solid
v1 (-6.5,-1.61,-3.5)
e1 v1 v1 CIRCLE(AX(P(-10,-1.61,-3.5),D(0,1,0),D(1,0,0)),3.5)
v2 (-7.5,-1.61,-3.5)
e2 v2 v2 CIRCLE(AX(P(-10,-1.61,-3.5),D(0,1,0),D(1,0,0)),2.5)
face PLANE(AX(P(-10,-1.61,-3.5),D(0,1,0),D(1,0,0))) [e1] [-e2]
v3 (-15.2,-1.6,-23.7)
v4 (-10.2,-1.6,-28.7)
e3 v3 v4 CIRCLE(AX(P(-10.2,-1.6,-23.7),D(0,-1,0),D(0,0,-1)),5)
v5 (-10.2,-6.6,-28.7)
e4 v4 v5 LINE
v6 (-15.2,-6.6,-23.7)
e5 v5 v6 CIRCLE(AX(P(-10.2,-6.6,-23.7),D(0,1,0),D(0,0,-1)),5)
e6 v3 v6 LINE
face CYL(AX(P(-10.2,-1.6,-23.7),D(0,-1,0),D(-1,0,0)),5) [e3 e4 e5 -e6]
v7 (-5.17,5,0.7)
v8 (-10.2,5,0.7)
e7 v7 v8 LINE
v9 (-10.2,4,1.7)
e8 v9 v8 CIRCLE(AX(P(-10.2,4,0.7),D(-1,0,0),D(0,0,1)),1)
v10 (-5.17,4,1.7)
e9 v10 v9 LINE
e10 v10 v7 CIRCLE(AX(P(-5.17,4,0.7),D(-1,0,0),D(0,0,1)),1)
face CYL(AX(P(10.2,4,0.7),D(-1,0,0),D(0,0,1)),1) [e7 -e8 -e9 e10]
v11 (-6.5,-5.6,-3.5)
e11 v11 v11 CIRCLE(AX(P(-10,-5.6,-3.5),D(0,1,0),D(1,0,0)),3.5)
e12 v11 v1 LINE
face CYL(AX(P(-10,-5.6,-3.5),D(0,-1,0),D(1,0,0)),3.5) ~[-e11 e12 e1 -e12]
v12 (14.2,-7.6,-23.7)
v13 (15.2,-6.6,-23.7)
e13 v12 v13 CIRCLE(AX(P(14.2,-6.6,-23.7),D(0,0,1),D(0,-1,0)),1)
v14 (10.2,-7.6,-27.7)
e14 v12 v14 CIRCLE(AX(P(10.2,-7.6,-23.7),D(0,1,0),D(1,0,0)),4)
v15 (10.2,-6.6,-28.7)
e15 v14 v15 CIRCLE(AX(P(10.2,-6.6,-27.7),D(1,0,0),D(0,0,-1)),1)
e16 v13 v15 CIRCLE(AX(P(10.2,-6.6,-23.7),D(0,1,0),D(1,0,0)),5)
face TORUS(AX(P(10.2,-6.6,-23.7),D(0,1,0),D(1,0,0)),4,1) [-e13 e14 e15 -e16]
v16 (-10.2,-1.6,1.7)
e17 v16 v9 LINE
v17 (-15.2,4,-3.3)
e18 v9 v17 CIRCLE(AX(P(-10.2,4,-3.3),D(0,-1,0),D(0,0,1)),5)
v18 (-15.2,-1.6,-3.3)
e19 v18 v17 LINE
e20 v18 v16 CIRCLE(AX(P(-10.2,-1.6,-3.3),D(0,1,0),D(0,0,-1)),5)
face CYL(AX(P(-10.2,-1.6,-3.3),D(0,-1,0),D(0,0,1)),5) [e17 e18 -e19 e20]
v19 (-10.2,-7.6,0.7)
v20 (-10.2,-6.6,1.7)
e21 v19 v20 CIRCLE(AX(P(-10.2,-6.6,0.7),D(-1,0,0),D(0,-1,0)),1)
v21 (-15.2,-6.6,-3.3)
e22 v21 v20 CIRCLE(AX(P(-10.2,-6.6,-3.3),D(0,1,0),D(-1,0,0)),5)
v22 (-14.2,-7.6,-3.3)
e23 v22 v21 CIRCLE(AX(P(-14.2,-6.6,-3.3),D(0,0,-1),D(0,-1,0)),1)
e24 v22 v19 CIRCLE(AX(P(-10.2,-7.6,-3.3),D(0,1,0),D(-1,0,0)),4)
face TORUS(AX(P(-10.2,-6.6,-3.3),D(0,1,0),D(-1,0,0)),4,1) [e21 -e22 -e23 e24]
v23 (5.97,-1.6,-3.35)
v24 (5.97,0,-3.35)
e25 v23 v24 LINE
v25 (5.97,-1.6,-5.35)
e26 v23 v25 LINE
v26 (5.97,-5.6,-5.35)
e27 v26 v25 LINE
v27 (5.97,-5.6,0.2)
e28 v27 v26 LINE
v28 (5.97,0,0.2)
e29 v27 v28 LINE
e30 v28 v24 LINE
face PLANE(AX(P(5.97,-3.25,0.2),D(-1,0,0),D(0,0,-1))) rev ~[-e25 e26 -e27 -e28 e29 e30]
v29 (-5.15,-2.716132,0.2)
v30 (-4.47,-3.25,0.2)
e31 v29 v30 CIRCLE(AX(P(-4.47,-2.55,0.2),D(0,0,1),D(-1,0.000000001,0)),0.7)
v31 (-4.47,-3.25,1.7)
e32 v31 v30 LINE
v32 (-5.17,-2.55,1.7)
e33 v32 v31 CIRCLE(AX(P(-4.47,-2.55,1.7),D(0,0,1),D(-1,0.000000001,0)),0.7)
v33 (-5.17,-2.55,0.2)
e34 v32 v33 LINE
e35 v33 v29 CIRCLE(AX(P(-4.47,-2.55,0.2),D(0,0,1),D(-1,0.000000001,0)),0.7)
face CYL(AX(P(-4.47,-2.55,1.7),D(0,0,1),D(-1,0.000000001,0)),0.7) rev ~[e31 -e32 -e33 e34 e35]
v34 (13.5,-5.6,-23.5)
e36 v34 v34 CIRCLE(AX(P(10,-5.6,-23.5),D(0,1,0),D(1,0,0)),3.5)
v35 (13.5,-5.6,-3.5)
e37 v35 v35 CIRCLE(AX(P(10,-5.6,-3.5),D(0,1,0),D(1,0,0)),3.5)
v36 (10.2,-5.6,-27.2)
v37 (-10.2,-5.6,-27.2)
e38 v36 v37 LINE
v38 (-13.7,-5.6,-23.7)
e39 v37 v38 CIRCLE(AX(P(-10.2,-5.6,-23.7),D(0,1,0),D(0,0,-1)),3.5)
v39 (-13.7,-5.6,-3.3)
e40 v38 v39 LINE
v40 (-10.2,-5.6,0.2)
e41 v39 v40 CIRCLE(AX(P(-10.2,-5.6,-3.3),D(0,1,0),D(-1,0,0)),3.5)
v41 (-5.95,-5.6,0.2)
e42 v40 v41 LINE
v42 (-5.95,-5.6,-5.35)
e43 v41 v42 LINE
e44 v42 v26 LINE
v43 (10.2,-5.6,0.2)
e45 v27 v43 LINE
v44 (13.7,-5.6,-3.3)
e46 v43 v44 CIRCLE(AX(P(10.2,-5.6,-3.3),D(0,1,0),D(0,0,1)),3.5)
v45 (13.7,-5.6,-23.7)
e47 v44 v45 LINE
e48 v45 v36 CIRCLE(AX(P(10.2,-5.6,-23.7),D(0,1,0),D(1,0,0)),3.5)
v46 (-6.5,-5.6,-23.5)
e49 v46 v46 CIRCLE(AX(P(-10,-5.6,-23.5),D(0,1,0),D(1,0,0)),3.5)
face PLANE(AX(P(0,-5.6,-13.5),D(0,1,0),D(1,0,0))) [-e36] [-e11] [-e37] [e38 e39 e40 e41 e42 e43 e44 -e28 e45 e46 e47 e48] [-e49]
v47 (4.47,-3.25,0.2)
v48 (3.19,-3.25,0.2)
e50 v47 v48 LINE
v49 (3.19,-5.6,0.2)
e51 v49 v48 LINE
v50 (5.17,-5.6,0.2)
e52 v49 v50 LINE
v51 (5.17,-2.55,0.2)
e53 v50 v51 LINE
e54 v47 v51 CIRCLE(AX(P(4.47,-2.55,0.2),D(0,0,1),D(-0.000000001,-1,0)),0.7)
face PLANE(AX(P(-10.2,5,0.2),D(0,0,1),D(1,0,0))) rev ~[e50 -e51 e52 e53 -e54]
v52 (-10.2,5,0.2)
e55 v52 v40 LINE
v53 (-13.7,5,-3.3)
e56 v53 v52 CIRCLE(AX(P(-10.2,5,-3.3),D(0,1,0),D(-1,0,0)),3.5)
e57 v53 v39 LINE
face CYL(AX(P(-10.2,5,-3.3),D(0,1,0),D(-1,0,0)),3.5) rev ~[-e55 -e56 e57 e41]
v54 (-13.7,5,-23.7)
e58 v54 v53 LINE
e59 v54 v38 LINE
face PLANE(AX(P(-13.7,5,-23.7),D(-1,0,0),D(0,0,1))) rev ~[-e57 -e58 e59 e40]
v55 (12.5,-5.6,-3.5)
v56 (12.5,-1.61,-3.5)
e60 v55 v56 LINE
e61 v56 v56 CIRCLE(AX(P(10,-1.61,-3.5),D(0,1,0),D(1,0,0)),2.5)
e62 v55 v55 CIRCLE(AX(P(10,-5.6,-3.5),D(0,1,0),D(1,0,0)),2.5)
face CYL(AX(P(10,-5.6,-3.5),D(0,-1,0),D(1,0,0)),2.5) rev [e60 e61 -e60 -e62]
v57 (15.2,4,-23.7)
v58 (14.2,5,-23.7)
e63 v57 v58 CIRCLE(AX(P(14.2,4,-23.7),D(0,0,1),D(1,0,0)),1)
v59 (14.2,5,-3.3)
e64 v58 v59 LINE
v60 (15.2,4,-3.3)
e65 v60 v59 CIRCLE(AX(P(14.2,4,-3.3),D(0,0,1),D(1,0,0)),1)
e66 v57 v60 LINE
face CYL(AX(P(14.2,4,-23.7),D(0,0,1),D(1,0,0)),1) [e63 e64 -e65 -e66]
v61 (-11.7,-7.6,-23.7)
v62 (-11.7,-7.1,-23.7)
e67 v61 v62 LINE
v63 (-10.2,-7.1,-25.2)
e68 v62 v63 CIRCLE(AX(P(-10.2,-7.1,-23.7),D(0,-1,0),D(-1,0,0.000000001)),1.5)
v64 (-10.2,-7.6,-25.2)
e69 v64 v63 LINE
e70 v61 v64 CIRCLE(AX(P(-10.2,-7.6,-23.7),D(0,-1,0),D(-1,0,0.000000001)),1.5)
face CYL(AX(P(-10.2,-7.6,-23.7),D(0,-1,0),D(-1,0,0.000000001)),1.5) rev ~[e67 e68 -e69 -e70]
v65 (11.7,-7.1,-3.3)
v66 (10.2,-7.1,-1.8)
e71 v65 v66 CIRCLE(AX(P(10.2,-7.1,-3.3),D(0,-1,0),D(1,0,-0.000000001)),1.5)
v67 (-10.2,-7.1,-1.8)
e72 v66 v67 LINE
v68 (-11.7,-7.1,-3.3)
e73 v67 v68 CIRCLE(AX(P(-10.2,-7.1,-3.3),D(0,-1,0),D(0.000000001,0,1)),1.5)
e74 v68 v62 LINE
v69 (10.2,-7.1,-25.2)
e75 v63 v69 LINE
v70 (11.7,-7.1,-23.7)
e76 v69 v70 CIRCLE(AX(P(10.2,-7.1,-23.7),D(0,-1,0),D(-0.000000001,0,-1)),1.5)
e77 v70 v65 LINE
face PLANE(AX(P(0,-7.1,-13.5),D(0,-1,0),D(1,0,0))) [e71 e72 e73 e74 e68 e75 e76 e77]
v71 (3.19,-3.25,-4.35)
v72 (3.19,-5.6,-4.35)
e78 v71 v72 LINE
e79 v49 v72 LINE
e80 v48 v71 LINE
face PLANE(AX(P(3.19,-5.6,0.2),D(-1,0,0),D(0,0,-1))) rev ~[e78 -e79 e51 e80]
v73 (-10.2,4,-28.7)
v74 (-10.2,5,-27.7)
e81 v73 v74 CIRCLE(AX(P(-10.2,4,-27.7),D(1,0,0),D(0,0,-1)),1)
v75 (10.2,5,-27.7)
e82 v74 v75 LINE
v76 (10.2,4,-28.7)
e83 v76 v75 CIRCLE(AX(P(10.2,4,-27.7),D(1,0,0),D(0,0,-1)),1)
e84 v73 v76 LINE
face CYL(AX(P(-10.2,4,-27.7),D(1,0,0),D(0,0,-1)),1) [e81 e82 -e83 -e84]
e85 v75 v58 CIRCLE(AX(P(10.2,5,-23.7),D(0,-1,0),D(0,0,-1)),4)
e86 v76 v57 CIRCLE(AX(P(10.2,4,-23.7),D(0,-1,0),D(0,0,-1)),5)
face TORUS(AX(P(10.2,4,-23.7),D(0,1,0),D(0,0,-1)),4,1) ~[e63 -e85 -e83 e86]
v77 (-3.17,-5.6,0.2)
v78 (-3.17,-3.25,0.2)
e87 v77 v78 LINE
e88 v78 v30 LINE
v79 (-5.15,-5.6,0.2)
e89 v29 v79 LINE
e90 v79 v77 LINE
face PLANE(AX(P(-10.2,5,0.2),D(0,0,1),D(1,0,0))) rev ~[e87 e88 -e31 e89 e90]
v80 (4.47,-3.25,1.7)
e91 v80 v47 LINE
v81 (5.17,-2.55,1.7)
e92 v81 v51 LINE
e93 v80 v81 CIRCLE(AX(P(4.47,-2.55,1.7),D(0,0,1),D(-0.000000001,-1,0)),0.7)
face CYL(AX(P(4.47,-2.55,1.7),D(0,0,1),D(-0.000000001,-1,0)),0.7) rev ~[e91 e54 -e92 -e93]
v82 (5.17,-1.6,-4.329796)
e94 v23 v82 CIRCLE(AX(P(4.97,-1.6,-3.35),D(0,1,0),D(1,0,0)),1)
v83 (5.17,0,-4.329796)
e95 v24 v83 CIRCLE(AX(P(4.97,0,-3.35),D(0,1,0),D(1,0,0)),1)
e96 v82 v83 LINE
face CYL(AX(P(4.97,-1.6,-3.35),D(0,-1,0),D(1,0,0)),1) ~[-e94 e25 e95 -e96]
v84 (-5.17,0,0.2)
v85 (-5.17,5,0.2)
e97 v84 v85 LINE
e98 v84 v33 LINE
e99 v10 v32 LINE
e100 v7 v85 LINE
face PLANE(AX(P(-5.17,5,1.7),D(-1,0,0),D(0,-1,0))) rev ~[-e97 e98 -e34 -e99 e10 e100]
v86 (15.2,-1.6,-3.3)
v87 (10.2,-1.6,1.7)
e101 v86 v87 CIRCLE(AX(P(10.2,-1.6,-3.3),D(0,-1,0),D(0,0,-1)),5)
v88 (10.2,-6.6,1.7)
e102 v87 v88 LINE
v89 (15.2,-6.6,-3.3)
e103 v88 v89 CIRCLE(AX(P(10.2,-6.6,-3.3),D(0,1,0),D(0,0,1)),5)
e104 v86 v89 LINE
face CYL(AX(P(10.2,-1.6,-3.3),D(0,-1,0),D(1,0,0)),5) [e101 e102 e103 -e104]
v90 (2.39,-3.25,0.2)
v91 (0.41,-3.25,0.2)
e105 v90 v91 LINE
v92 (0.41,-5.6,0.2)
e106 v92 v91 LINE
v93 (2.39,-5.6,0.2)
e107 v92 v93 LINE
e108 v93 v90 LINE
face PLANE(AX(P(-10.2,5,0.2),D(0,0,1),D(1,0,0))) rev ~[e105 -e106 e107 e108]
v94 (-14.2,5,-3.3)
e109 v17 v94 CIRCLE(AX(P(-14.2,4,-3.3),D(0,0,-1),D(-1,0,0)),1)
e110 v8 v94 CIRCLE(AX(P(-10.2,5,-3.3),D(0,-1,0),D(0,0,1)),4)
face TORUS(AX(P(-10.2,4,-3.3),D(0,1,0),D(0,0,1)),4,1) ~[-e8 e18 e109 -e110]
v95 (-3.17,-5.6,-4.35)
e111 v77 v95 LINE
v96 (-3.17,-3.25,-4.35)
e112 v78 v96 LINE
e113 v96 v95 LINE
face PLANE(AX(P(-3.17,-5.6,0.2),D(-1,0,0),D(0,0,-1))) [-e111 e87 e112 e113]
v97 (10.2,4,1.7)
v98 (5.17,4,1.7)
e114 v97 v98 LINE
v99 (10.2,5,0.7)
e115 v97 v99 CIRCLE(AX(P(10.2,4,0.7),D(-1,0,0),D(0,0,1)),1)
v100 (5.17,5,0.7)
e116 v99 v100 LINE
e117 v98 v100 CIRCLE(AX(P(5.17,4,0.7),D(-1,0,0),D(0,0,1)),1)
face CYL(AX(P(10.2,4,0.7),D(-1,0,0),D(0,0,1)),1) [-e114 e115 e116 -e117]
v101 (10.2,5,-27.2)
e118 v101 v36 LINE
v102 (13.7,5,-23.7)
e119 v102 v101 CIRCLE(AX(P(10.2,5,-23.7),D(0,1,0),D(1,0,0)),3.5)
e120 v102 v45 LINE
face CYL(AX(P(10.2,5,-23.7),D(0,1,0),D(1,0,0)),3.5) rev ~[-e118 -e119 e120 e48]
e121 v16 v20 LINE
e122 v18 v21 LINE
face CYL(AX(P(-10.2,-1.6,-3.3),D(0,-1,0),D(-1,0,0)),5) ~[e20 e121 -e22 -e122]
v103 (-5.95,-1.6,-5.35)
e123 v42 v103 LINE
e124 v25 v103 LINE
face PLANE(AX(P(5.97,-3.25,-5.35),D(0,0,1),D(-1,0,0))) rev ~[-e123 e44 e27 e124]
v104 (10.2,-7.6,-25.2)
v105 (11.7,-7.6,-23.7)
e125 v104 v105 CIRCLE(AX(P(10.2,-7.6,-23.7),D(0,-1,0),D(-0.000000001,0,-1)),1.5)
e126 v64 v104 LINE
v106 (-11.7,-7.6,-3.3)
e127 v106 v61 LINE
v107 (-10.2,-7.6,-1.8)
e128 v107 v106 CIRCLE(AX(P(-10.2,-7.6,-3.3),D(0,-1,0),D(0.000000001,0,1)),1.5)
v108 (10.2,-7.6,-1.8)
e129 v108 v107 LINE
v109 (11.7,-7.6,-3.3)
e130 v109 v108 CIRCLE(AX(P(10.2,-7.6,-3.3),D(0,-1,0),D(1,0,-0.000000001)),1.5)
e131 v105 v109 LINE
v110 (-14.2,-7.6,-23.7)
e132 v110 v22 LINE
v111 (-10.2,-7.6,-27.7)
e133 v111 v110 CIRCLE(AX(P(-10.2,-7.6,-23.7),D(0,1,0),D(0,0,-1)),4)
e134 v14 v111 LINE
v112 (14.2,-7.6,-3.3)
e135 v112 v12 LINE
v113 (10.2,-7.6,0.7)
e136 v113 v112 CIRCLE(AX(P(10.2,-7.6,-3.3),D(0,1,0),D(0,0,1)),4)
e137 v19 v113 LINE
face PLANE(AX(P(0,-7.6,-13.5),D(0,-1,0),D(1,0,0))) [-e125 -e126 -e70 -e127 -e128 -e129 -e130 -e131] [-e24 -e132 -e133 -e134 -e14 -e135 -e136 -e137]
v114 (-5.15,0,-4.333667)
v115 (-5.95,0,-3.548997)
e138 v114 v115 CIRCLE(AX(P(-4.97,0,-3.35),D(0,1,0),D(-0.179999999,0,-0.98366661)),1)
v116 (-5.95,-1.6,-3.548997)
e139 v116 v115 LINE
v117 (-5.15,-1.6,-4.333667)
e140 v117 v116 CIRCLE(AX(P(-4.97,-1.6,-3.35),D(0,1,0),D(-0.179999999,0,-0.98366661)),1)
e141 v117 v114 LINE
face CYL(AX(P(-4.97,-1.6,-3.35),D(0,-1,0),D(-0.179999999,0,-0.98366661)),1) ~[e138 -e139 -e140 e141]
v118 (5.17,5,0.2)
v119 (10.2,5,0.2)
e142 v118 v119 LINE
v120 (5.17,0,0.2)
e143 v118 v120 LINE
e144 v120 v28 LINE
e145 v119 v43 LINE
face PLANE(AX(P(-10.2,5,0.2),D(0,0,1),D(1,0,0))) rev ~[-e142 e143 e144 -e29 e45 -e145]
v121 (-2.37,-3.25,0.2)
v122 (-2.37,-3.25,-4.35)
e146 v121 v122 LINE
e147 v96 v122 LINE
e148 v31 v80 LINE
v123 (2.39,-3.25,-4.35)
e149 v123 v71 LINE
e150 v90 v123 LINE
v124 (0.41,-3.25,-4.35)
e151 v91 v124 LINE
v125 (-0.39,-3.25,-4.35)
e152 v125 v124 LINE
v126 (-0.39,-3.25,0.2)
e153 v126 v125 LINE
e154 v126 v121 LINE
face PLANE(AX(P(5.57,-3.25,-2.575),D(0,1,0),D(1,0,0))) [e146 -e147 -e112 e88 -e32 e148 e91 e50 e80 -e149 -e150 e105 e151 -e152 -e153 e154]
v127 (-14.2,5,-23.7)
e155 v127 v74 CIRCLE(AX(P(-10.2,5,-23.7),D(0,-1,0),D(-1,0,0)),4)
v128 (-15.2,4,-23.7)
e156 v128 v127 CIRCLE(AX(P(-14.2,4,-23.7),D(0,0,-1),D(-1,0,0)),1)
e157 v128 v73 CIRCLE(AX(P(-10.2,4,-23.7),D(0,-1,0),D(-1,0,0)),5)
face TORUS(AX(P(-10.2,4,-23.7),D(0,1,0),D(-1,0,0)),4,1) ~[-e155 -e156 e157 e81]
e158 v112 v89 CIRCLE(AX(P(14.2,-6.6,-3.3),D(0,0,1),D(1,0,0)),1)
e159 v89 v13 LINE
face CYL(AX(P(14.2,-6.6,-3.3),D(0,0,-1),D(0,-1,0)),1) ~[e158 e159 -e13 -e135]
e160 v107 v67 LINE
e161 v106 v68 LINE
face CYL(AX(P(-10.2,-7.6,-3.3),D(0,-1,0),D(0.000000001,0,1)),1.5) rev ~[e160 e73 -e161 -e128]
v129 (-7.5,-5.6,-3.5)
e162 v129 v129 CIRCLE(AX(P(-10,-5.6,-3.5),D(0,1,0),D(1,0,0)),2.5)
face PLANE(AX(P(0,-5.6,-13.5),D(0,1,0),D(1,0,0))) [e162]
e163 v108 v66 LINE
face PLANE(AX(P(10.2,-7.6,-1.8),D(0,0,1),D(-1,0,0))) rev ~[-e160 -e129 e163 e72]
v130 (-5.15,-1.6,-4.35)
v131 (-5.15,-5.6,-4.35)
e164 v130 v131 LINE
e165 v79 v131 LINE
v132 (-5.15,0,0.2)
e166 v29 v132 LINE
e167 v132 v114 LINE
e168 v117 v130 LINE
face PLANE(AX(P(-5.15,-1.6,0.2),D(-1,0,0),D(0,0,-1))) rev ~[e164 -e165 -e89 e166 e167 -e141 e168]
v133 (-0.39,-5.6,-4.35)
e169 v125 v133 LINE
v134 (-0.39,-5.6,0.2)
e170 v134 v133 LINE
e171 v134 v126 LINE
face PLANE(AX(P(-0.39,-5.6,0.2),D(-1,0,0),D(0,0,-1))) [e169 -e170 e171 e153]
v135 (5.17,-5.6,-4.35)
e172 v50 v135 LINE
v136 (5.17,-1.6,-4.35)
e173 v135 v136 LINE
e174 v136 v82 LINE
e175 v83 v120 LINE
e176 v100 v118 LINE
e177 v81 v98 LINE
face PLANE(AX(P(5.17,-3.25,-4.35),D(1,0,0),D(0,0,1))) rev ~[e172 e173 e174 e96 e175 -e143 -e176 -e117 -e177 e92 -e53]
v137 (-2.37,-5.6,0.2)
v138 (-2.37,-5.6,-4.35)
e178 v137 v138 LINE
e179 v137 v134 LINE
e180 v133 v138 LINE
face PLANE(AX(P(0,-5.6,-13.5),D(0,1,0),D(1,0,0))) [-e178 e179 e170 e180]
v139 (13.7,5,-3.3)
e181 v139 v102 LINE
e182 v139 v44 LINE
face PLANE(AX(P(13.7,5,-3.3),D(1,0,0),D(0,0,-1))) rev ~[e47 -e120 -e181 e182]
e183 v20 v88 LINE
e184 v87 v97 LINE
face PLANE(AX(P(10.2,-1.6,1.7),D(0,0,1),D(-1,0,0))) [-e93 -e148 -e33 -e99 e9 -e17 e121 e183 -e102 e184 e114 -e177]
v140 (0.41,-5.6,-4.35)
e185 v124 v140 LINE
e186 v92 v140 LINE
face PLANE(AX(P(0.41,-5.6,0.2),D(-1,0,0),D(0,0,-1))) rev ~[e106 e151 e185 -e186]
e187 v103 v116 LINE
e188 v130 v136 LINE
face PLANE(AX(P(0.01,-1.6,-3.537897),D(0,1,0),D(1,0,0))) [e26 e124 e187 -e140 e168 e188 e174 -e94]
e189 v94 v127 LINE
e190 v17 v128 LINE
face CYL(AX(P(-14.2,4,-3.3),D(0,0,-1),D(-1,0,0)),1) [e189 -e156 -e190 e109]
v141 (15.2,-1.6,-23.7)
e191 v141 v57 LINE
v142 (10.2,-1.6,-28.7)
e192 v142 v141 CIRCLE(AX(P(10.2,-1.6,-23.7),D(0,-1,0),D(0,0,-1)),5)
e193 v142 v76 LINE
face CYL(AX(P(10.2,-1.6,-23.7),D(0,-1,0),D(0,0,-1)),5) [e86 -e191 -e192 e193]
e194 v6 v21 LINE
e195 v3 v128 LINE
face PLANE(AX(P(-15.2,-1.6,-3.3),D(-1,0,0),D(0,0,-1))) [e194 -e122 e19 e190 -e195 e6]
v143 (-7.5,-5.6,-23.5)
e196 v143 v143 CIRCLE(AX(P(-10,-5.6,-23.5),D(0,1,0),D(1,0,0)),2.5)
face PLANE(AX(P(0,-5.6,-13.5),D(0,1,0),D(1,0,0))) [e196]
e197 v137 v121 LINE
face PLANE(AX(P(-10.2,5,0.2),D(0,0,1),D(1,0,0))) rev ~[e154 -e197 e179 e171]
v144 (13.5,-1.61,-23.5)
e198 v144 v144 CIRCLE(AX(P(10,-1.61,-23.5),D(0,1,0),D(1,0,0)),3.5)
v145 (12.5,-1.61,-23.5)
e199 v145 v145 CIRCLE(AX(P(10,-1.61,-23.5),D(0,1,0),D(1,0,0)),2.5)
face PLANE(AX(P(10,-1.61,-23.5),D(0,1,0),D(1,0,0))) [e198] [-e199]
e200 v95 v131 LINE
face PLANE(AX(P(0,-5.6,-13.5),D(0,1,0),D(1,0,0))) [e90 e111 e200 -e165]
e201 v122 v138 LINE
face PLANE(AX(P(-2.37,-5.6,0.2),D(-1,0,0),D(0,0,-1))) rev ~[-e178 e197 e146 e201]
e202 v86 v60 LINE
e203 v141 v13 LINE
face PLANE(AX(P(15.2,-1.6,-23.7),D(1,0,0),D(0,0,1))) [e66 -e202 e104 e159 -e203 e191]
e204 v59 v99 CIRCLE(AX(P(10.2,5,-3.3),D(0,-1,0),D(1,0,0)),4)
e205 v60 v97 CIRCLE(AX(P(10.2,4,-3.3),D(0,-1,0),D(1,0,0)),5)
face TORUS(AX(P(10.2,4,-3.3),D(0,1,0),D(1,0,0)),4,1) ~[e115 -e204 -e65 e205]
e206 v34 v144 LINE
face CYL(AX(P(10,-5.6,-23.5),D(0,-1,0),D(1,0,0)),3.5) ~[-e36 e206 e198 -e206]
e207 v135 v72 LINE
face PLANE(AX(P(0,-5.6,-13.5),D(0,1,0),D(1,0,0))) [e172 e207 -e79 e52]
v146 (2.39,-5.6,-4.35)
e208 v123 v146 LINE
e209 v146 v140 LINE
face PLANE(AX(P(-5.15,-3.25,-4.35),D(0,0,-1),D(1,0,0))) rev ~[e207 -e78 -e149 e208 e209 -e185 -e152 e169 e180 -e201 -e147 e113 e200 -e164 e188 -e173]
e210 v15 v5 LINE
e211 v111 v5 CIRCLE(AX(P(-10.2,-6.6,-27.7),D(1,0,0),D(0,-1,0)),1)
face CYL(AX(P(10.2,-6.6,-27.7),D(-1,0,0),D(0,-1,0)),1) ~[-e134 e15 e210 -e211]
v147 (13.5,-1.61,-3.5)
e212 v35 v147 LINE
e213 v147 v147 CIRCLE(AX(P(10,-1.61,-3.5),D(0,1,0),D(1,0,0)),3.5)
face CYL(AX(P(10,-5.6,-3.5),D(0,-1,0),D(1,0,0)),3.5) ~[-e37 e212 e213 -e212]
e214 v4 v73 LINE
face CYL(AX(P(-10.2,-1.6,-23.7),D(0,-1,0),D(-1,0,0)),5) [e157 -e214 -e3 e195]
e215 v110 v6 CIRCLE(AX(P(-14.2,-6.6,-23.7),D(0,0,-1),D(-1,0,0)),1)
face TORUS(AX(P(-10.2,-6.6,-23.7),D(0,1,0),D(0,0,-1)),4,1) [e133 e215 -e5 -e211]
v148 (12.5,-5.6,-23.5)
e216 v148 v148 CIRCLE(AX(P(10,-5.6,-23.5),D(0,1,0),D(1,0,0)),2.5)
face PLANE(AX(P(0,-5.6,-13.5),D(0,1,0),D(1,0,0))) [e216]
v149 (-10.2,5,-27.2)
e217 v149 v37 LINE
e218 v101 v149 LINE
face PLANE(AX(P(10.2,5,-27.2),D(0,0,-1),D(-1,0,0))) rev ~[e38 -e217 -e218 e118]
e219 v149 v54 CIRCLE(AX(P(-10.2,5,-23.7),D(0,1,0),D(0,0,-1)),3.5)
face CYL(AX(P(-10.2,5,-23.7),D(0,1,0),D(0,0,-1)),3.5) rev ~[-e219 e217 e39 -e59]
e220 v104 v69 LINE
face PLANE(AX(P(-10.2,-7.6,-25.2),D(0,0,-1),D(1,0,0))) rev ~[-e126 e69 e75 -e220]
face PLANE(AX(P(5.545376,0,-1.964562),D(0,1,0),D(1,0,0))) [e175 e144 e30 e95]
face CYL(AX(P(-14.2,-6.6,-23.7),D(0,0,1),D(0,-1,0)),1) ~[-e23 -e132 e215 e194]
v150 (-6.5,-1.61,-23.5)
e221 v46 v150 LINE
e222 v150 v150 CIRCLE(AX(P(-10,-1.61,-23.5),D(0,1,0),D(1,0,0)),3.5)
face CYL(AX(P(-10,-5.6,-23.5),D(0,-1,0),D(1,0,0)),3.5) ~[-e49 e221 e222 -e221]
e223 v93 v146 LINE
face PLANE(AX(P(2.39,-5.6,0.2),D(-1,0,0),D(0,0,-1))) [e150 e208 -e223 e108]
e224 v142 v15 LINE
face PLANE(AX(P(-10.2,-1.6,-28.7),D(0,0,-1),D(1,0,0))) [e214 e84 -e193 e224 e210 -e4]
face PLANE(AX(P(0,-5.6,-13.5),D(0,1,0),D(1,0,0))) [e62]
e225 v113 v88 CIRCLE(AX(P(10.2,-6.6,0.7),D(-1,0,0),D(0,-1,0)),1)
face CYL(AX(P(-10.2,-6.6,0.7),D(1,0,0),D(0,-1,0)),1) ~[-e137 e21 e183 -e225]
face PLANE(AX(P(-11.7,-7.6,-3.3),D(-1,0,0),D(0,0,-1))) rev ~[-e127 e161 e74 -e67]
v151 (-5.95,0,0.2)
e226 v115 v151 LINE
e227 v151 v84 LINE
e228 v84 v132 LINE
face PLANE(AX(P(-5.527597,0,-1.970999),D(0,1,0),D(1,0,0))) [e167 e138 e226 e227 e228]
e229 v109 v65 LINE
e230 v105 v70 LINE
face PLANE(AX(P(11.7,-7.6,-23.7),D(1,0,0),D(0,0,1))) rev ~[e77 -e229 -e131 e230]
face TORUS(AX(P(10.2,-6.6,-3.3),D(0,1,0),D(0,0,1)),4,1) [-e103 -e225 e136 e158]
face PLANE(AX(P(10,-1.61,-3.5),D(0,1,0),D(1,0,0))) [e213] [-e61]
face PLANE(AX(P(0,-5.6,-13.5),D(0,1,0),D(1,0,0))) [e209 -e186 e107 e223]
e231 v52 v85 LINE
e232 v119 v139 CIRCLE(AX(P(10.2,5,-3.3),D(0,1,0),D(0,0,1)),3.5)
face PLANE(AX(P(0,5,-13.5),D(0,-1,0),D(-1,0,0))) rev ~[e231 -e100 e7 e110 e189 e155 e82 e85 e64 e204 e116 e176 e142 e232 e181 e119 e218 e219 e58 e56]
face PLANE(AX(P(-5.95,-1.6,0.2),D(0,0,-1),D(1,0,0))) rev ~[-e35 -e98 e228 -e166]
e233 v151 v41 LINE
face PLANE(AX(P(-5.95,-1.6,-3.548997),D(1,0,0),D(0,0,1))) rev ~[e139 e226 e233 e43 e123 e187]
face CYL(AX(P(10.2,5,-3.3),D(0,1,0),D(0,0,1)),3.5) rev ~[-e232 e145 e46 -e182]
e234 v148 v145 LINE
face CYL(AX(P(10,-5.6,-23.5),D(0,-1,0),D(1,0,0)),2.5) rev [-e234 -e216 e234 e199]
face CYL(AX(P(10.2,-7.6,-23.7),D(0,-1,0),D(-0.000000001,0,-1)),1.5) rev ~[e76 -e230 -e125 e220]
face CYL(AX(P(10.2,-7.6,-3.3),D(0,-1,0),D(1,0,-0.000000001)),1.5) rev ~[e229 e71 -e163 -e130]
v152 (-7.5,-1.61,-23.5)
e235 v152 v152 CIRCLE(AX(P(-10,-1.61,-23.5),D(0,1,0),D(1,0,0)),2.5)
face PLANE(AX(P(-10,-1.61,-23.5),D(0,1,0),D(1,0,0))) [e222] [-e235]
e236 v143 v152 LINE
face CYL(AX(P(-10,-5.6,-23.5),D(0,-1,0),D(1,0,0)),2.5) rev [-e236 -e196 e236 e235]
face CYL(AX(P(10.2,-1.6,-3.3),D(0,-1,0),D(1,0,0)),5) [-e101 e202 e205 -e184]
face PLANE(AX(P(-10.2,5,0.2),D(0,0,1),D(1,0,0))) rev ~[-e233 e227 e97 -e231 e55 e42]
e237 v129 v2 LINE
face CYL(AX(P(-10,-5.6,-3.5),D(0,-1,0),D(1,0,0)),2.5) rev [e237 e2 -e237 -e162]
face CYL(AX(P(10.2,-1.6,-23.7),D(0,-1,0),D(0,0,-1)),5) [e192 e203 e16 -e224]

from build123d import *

# Parameters (mm, degrees)
SKETCH2_W           = 30.4
SKETCH2_H           = 30.4
BOSS_EXTRUDE1_DEPTH = 6
FILLET1_R           = 5
FILLET2_R           = 1
CUT_EXTRUDE1_DEPTH  = 0.5
BOSS_EXTRUDE2_DEPTH = 6.6
CUT_EXTRUDE2_DEPTH  = 10.6
FILLET3_R           = 1
CUT_EXTRUDE3_REACH  = 32.4
SKETCH9_W           = 0.8
SKETCH9_H           = 5.55
BOSS_EXTRUDE5_DEPTH = 2.35
LPATTERN1_COUNT     = 5
LPATTERN1_PITCH     = 2.78
SKETCH10_W          = 11.92
SKETCH10_H          = 2.35
BOSS_EXTRUDE6_DEPTH = 1
BOSS_EXTRUDE7_DEPTH = 1.65
SKETCH12_R          = 3.5
SKETCH12_R_2        = 2.5
BOSS_EXTRUDE8_DEPTH = 3.99
BOSS_EXTRUDE9_DEPTH = 1.6


with BuildPart() as part:
    # Sketch2 → Boss-Extrude1 (new body)
    with BuildSketch(Plane.XZ.offset(1.6)):
        with Locations((0, -13.5)):
            Rectangle(SKETCH2_W, SKETCH2_H)
    extrude(amount=BOSS_EXTRUDE1_DEPTH)

    # Fillet1
    fillet1_edges = [part.edges().sort_by_distance(p)[0] for p in [
        (15.2, -4.6, -28.7),
        (-15.2, -4.6, -28.7),
        (-15.2, -4.6, 1.7),
        (15.2, -4.6, 1.7),
    ]]
    fillet(fillet1_edges, radius=FILLET1_R)

    # Fillet2
    fillet2_edges = [part.edges().sort_by_distance(p)[0] for p in [
        (0, -7.6, 1.7),
        (15.2, -7.6, -13.5),
        (-15.2, -7.6, -13.5),
        (0, -7.6, -28.7),
        (-13.735533906, -7.6, -27.235533906),
        (-13.735533906, -7.6, 0.235533906),
        (13.735533906, -7.6, -27.235533906),
        (13.735533906, -7.6, 0.235533906),
    ]]
    fillet(fillet2_edges, radius=FILLET2_R)

    # Sketch3 → Cut-Extrude1 (cut)
    with BuildSketch(Plane.XZ.offset(7.6)):
        with BuildLine():
            Line((10.2, -1.8), (-10.2, -1.8))
            ThreePointArc((-10.2, -1.8), (-11.260660172, -2.239339828), (-11.7, -3.3))
            Line((-11.7, -3.3), (-11.7, -23.7))
            ThreePointArc((-11.7, -23.7), (-11.260660172, -24.760660172), (-10.2, -25.2))
            Line((-10.2, -25.2), (10.2, -25.2))
            ThreePointArc((10.2, -25.2), (11.260660172, -24.760660172), (11.7, -23.7))
            Line((11.7, -23.7), (11.7, -3.3))
            ThreePointArc((11.7, -3.3), (11.260660172, -2.239339828), (10.2, -1.8))
        make_face()
    extrude(amount=-CUT_EXTRUDE1_DEPTH, mode=Mode.SUBTRACT)

    # Sketch4 → Boss-Extrude2 (add)
    with BuildSketch(Plane(origin=(0, -1.6, 0), x_dir=(1, 0, 0), z_dir=(0, 1, 0))):
        with BuildLine():
            Line((15.2, 23.7), (15.2, 3.3))
            ThreePointArc((15.2, 3.3), (13.735533906, -0.235533906), (10.2, -1.7))
            Line((10.2, -1.7), (-10.2, -1.7))
            ThreePointArc((-10.2, -1.7), (-13.735533906, -0.235533906), (-15.2, 3.3))
            Line((-15.2, 3.3), (-15.2, 23.7))
            ThreePointArc((-15.2, 23.7), (-13.735533906, 27.235533906), (-10.2, 28.7))
            Line((-10.2, 28.7), (10.2, 28.7))
            ThreePointArc((10.2, 28.7), (13.735533906, 27.235533906), (15.2, 23.7))
        make_face()
    extrude(amount=BOSS_EXTRUDE2_DEPTH)

    # Sketch5 → Cut-Extrude2 (cut)
    with BuildSketch(Plane(origin=(0, 5, 0), x_dir=(1, 0, 0), z_dir=(0, 1, 0))):
        with BuildLine():
            Line((10.2, 27.2), (-10.2, 27.2))
            ThreePointArc((-10.2, 27.2), (-12.674873734, 26.174873734), (-13.7, 23.7))
            Line((-13.7, 23.7), (-13.7, 3.3))
            ThreePointArc((-13.7, 3.3), (-12.674873734, 0.825126266), (-10.2, -0.2))
            Line((-10.2, -0.2), (10.2, -0.2))
            ThreePointArc((10.2, -0.2), (12.674873734, 0.825126266), (13.7, 3.3))
            Line((13.7, 3.3), (13.7, 23.7))
            ThreePointArc((13.7, 23.7), (12.674873734, 26.174873734), (10.2, 27.2))
        make_face()
    extrude(amount=-CUT_EXTRUDE2_DEPTH, mode=Mode.SUBTRACT)

    # Fillet3
    fillet3_edges = [part.edges().sort_by_distance(p)[0] for p in [
        (13.735533906, 5, -27.235533906),
        (0, 5, -28.7),
        (-13.735533906, 5, -27.235533906),
        (-15.2, 5, -13.5),
        (-13.735533906, 5, 0.235533906),
        (0, 5, 1.7),
        (13.735533906, 5, 0.235533906),
        (15.2, 5, -13.5),
    ]]
    fillet(fillet3_edges, radius=FILLET3_R)

    # Sketch6 → Cut-Extrude3 (cut, up to next)
    with BuildSketch(Plane.XY.offset(1.7), mode=Mode.PRIVATE) as cut_extrude3_sk1:
        with BuildLine():
            Line((5.17, -2.55), (5.17, 5))
            Line((5.17, 5), (-5.17, 5))
            Line((-5.17, 5), (-5.17, -2.55))
            ThreePointArc((-5.17, -2.55), (-4.964974747, -3.044974747), (-4.47, -3.25))
            Line((-4.47, -3.25), (4.47, -3.25))
            ThreePointArc((4.47, -3.25), (4.964974747, -3.044974747), (5.17, -2.55))
        make_face()
    cut_extrude3_tool1 = extrude(cut_extrude3_sk1.sketch, amount=-CUT_EXTRUDE3_REACH, mode=Mode.PRIVATE) & part.part
    add(cut_extrude3_tool1.solids().sort_by_distance((0, 0.884808, 1.7))[0], mode=Mode.SUBTRACT)

    # Sketch9 → Boss-Extrude5 (add)
    with BuildSketch(Plane(origin=(0, -5.6, 0), x_dir=(1, 0, 0), z_dir=(0, 1, 0))):
        with Locations((5.57, 2.575)):
            Rectangle(SKETCH9_W, SKETCH9_H)
    boss_extrude5 = extrude(amount=BOSS_EXTRUDE5_DEPTH)

    # LPattern1: Boss-Extrude5 ×5
    with Locations(*[(-i * LPATTERN1_PITCH, 0, 0) for i in range(1, LPATTERN1_COUNT)]):
        add(boss_extrude5)

    # Sketch10 → Boss-Extrude6 (add)
    with BuildSketch(Plane(origin=(0, 0, -5.35), x_dir=(-1, 0, 0), z_dir=(0, 0, -1))):
        with Locations((-0.01, -4.425)):
            Rectangle(SKETCH10_W, SKETCH10_H)
    extrude(amount=-BOSS_EXTRUDE6_DEPTH)

    # Sketch11 → Boss-Extrude7 (add)
    with BuildSketch(Plane(origin=(0, -3.25, 0), x_dir=(1, 0, 0), z_dir=(0, 1, 0))):
        Polygon((-5.15, 4.35), (5.17, 4.35), (5.17, -0.2), (5.97, -0.2), (5.97, 5.35), (-5.95, 5.35), (-5.95, -0.2), (-5.15, -0.2), align=None)
    extrude(amount=BOSS_EXTRUDE7_DEPTH)

    # Sketch12 → Boss-Extrude8 (add)
    with BuildSketch(Plane(origin=(0, -5.6, 0), x_dir=(1, 0, 0), z_dir=(0, 1, 0))):
        with Locations((10, 3.5)):
            Circle(SKETCH12_R)
        with Locations((10, 3.5)):
            Circle(SKETCH12_R_2, mode=Mode.SUBTRACT)
        with Locations((10, 23.5)):
            Circle(SKETCH12_R)
        with Locations((10, 23.5)):
            Circle(SKETCH12_R_2, mode=Mode.SUBTRACT)
        with Locations((-10, 23.5)):
            Circle(SKETCH12_R)
        with Locations((-10, 23.5)):
            Circle(SKETCH12_R_2, mode=Mode.SUBTRACT)
        with Locations((-10, 3.5)):
            Circle(SKETCH12_R)
        with Locations((-10, 3.5)):
            Circle(SKETCH12_R_2, mode=Mode.SUBTRACT)
    extrude(amount=BOSS_EXTRUDE8_DEPTH)

    # Sketch13 → Boss-Extrude9 (add)
    with BuildSketch(Plane(origin=(0, -1.6, 0), x_dir=(1, 0, 0), z_dir=(0, 1, 0))):
        with BuildLine():
            Line((-5.95, -0.2), (-5.15, -0.2))
            Line((-5.15, -0.2), (-5.15, 4.33366661))
            ThreePointArc((-5.15, 4.33366661), (-5.67023311, 4.063914275), (-5.95, 3.548997487))
            Line((-5.95, 3.548997487), (-5.95, -0.2))
        make_face()
        with BuildLine():
            Line((5.17, -0.2), (5.97, -0.2))
            Line((5.97, -0.2), (5.97, 3.35))
            ThreePointArc((5.97, 3.35), (5.744596669, 3.982455532), (5.17, 4.329795897))
            Line((5.17, 4.329795897), (5.17, -0.2))
        make_face()
    extrude(amount=BOSS_EXTRUDE9_DEPTH)


solid = part.part
